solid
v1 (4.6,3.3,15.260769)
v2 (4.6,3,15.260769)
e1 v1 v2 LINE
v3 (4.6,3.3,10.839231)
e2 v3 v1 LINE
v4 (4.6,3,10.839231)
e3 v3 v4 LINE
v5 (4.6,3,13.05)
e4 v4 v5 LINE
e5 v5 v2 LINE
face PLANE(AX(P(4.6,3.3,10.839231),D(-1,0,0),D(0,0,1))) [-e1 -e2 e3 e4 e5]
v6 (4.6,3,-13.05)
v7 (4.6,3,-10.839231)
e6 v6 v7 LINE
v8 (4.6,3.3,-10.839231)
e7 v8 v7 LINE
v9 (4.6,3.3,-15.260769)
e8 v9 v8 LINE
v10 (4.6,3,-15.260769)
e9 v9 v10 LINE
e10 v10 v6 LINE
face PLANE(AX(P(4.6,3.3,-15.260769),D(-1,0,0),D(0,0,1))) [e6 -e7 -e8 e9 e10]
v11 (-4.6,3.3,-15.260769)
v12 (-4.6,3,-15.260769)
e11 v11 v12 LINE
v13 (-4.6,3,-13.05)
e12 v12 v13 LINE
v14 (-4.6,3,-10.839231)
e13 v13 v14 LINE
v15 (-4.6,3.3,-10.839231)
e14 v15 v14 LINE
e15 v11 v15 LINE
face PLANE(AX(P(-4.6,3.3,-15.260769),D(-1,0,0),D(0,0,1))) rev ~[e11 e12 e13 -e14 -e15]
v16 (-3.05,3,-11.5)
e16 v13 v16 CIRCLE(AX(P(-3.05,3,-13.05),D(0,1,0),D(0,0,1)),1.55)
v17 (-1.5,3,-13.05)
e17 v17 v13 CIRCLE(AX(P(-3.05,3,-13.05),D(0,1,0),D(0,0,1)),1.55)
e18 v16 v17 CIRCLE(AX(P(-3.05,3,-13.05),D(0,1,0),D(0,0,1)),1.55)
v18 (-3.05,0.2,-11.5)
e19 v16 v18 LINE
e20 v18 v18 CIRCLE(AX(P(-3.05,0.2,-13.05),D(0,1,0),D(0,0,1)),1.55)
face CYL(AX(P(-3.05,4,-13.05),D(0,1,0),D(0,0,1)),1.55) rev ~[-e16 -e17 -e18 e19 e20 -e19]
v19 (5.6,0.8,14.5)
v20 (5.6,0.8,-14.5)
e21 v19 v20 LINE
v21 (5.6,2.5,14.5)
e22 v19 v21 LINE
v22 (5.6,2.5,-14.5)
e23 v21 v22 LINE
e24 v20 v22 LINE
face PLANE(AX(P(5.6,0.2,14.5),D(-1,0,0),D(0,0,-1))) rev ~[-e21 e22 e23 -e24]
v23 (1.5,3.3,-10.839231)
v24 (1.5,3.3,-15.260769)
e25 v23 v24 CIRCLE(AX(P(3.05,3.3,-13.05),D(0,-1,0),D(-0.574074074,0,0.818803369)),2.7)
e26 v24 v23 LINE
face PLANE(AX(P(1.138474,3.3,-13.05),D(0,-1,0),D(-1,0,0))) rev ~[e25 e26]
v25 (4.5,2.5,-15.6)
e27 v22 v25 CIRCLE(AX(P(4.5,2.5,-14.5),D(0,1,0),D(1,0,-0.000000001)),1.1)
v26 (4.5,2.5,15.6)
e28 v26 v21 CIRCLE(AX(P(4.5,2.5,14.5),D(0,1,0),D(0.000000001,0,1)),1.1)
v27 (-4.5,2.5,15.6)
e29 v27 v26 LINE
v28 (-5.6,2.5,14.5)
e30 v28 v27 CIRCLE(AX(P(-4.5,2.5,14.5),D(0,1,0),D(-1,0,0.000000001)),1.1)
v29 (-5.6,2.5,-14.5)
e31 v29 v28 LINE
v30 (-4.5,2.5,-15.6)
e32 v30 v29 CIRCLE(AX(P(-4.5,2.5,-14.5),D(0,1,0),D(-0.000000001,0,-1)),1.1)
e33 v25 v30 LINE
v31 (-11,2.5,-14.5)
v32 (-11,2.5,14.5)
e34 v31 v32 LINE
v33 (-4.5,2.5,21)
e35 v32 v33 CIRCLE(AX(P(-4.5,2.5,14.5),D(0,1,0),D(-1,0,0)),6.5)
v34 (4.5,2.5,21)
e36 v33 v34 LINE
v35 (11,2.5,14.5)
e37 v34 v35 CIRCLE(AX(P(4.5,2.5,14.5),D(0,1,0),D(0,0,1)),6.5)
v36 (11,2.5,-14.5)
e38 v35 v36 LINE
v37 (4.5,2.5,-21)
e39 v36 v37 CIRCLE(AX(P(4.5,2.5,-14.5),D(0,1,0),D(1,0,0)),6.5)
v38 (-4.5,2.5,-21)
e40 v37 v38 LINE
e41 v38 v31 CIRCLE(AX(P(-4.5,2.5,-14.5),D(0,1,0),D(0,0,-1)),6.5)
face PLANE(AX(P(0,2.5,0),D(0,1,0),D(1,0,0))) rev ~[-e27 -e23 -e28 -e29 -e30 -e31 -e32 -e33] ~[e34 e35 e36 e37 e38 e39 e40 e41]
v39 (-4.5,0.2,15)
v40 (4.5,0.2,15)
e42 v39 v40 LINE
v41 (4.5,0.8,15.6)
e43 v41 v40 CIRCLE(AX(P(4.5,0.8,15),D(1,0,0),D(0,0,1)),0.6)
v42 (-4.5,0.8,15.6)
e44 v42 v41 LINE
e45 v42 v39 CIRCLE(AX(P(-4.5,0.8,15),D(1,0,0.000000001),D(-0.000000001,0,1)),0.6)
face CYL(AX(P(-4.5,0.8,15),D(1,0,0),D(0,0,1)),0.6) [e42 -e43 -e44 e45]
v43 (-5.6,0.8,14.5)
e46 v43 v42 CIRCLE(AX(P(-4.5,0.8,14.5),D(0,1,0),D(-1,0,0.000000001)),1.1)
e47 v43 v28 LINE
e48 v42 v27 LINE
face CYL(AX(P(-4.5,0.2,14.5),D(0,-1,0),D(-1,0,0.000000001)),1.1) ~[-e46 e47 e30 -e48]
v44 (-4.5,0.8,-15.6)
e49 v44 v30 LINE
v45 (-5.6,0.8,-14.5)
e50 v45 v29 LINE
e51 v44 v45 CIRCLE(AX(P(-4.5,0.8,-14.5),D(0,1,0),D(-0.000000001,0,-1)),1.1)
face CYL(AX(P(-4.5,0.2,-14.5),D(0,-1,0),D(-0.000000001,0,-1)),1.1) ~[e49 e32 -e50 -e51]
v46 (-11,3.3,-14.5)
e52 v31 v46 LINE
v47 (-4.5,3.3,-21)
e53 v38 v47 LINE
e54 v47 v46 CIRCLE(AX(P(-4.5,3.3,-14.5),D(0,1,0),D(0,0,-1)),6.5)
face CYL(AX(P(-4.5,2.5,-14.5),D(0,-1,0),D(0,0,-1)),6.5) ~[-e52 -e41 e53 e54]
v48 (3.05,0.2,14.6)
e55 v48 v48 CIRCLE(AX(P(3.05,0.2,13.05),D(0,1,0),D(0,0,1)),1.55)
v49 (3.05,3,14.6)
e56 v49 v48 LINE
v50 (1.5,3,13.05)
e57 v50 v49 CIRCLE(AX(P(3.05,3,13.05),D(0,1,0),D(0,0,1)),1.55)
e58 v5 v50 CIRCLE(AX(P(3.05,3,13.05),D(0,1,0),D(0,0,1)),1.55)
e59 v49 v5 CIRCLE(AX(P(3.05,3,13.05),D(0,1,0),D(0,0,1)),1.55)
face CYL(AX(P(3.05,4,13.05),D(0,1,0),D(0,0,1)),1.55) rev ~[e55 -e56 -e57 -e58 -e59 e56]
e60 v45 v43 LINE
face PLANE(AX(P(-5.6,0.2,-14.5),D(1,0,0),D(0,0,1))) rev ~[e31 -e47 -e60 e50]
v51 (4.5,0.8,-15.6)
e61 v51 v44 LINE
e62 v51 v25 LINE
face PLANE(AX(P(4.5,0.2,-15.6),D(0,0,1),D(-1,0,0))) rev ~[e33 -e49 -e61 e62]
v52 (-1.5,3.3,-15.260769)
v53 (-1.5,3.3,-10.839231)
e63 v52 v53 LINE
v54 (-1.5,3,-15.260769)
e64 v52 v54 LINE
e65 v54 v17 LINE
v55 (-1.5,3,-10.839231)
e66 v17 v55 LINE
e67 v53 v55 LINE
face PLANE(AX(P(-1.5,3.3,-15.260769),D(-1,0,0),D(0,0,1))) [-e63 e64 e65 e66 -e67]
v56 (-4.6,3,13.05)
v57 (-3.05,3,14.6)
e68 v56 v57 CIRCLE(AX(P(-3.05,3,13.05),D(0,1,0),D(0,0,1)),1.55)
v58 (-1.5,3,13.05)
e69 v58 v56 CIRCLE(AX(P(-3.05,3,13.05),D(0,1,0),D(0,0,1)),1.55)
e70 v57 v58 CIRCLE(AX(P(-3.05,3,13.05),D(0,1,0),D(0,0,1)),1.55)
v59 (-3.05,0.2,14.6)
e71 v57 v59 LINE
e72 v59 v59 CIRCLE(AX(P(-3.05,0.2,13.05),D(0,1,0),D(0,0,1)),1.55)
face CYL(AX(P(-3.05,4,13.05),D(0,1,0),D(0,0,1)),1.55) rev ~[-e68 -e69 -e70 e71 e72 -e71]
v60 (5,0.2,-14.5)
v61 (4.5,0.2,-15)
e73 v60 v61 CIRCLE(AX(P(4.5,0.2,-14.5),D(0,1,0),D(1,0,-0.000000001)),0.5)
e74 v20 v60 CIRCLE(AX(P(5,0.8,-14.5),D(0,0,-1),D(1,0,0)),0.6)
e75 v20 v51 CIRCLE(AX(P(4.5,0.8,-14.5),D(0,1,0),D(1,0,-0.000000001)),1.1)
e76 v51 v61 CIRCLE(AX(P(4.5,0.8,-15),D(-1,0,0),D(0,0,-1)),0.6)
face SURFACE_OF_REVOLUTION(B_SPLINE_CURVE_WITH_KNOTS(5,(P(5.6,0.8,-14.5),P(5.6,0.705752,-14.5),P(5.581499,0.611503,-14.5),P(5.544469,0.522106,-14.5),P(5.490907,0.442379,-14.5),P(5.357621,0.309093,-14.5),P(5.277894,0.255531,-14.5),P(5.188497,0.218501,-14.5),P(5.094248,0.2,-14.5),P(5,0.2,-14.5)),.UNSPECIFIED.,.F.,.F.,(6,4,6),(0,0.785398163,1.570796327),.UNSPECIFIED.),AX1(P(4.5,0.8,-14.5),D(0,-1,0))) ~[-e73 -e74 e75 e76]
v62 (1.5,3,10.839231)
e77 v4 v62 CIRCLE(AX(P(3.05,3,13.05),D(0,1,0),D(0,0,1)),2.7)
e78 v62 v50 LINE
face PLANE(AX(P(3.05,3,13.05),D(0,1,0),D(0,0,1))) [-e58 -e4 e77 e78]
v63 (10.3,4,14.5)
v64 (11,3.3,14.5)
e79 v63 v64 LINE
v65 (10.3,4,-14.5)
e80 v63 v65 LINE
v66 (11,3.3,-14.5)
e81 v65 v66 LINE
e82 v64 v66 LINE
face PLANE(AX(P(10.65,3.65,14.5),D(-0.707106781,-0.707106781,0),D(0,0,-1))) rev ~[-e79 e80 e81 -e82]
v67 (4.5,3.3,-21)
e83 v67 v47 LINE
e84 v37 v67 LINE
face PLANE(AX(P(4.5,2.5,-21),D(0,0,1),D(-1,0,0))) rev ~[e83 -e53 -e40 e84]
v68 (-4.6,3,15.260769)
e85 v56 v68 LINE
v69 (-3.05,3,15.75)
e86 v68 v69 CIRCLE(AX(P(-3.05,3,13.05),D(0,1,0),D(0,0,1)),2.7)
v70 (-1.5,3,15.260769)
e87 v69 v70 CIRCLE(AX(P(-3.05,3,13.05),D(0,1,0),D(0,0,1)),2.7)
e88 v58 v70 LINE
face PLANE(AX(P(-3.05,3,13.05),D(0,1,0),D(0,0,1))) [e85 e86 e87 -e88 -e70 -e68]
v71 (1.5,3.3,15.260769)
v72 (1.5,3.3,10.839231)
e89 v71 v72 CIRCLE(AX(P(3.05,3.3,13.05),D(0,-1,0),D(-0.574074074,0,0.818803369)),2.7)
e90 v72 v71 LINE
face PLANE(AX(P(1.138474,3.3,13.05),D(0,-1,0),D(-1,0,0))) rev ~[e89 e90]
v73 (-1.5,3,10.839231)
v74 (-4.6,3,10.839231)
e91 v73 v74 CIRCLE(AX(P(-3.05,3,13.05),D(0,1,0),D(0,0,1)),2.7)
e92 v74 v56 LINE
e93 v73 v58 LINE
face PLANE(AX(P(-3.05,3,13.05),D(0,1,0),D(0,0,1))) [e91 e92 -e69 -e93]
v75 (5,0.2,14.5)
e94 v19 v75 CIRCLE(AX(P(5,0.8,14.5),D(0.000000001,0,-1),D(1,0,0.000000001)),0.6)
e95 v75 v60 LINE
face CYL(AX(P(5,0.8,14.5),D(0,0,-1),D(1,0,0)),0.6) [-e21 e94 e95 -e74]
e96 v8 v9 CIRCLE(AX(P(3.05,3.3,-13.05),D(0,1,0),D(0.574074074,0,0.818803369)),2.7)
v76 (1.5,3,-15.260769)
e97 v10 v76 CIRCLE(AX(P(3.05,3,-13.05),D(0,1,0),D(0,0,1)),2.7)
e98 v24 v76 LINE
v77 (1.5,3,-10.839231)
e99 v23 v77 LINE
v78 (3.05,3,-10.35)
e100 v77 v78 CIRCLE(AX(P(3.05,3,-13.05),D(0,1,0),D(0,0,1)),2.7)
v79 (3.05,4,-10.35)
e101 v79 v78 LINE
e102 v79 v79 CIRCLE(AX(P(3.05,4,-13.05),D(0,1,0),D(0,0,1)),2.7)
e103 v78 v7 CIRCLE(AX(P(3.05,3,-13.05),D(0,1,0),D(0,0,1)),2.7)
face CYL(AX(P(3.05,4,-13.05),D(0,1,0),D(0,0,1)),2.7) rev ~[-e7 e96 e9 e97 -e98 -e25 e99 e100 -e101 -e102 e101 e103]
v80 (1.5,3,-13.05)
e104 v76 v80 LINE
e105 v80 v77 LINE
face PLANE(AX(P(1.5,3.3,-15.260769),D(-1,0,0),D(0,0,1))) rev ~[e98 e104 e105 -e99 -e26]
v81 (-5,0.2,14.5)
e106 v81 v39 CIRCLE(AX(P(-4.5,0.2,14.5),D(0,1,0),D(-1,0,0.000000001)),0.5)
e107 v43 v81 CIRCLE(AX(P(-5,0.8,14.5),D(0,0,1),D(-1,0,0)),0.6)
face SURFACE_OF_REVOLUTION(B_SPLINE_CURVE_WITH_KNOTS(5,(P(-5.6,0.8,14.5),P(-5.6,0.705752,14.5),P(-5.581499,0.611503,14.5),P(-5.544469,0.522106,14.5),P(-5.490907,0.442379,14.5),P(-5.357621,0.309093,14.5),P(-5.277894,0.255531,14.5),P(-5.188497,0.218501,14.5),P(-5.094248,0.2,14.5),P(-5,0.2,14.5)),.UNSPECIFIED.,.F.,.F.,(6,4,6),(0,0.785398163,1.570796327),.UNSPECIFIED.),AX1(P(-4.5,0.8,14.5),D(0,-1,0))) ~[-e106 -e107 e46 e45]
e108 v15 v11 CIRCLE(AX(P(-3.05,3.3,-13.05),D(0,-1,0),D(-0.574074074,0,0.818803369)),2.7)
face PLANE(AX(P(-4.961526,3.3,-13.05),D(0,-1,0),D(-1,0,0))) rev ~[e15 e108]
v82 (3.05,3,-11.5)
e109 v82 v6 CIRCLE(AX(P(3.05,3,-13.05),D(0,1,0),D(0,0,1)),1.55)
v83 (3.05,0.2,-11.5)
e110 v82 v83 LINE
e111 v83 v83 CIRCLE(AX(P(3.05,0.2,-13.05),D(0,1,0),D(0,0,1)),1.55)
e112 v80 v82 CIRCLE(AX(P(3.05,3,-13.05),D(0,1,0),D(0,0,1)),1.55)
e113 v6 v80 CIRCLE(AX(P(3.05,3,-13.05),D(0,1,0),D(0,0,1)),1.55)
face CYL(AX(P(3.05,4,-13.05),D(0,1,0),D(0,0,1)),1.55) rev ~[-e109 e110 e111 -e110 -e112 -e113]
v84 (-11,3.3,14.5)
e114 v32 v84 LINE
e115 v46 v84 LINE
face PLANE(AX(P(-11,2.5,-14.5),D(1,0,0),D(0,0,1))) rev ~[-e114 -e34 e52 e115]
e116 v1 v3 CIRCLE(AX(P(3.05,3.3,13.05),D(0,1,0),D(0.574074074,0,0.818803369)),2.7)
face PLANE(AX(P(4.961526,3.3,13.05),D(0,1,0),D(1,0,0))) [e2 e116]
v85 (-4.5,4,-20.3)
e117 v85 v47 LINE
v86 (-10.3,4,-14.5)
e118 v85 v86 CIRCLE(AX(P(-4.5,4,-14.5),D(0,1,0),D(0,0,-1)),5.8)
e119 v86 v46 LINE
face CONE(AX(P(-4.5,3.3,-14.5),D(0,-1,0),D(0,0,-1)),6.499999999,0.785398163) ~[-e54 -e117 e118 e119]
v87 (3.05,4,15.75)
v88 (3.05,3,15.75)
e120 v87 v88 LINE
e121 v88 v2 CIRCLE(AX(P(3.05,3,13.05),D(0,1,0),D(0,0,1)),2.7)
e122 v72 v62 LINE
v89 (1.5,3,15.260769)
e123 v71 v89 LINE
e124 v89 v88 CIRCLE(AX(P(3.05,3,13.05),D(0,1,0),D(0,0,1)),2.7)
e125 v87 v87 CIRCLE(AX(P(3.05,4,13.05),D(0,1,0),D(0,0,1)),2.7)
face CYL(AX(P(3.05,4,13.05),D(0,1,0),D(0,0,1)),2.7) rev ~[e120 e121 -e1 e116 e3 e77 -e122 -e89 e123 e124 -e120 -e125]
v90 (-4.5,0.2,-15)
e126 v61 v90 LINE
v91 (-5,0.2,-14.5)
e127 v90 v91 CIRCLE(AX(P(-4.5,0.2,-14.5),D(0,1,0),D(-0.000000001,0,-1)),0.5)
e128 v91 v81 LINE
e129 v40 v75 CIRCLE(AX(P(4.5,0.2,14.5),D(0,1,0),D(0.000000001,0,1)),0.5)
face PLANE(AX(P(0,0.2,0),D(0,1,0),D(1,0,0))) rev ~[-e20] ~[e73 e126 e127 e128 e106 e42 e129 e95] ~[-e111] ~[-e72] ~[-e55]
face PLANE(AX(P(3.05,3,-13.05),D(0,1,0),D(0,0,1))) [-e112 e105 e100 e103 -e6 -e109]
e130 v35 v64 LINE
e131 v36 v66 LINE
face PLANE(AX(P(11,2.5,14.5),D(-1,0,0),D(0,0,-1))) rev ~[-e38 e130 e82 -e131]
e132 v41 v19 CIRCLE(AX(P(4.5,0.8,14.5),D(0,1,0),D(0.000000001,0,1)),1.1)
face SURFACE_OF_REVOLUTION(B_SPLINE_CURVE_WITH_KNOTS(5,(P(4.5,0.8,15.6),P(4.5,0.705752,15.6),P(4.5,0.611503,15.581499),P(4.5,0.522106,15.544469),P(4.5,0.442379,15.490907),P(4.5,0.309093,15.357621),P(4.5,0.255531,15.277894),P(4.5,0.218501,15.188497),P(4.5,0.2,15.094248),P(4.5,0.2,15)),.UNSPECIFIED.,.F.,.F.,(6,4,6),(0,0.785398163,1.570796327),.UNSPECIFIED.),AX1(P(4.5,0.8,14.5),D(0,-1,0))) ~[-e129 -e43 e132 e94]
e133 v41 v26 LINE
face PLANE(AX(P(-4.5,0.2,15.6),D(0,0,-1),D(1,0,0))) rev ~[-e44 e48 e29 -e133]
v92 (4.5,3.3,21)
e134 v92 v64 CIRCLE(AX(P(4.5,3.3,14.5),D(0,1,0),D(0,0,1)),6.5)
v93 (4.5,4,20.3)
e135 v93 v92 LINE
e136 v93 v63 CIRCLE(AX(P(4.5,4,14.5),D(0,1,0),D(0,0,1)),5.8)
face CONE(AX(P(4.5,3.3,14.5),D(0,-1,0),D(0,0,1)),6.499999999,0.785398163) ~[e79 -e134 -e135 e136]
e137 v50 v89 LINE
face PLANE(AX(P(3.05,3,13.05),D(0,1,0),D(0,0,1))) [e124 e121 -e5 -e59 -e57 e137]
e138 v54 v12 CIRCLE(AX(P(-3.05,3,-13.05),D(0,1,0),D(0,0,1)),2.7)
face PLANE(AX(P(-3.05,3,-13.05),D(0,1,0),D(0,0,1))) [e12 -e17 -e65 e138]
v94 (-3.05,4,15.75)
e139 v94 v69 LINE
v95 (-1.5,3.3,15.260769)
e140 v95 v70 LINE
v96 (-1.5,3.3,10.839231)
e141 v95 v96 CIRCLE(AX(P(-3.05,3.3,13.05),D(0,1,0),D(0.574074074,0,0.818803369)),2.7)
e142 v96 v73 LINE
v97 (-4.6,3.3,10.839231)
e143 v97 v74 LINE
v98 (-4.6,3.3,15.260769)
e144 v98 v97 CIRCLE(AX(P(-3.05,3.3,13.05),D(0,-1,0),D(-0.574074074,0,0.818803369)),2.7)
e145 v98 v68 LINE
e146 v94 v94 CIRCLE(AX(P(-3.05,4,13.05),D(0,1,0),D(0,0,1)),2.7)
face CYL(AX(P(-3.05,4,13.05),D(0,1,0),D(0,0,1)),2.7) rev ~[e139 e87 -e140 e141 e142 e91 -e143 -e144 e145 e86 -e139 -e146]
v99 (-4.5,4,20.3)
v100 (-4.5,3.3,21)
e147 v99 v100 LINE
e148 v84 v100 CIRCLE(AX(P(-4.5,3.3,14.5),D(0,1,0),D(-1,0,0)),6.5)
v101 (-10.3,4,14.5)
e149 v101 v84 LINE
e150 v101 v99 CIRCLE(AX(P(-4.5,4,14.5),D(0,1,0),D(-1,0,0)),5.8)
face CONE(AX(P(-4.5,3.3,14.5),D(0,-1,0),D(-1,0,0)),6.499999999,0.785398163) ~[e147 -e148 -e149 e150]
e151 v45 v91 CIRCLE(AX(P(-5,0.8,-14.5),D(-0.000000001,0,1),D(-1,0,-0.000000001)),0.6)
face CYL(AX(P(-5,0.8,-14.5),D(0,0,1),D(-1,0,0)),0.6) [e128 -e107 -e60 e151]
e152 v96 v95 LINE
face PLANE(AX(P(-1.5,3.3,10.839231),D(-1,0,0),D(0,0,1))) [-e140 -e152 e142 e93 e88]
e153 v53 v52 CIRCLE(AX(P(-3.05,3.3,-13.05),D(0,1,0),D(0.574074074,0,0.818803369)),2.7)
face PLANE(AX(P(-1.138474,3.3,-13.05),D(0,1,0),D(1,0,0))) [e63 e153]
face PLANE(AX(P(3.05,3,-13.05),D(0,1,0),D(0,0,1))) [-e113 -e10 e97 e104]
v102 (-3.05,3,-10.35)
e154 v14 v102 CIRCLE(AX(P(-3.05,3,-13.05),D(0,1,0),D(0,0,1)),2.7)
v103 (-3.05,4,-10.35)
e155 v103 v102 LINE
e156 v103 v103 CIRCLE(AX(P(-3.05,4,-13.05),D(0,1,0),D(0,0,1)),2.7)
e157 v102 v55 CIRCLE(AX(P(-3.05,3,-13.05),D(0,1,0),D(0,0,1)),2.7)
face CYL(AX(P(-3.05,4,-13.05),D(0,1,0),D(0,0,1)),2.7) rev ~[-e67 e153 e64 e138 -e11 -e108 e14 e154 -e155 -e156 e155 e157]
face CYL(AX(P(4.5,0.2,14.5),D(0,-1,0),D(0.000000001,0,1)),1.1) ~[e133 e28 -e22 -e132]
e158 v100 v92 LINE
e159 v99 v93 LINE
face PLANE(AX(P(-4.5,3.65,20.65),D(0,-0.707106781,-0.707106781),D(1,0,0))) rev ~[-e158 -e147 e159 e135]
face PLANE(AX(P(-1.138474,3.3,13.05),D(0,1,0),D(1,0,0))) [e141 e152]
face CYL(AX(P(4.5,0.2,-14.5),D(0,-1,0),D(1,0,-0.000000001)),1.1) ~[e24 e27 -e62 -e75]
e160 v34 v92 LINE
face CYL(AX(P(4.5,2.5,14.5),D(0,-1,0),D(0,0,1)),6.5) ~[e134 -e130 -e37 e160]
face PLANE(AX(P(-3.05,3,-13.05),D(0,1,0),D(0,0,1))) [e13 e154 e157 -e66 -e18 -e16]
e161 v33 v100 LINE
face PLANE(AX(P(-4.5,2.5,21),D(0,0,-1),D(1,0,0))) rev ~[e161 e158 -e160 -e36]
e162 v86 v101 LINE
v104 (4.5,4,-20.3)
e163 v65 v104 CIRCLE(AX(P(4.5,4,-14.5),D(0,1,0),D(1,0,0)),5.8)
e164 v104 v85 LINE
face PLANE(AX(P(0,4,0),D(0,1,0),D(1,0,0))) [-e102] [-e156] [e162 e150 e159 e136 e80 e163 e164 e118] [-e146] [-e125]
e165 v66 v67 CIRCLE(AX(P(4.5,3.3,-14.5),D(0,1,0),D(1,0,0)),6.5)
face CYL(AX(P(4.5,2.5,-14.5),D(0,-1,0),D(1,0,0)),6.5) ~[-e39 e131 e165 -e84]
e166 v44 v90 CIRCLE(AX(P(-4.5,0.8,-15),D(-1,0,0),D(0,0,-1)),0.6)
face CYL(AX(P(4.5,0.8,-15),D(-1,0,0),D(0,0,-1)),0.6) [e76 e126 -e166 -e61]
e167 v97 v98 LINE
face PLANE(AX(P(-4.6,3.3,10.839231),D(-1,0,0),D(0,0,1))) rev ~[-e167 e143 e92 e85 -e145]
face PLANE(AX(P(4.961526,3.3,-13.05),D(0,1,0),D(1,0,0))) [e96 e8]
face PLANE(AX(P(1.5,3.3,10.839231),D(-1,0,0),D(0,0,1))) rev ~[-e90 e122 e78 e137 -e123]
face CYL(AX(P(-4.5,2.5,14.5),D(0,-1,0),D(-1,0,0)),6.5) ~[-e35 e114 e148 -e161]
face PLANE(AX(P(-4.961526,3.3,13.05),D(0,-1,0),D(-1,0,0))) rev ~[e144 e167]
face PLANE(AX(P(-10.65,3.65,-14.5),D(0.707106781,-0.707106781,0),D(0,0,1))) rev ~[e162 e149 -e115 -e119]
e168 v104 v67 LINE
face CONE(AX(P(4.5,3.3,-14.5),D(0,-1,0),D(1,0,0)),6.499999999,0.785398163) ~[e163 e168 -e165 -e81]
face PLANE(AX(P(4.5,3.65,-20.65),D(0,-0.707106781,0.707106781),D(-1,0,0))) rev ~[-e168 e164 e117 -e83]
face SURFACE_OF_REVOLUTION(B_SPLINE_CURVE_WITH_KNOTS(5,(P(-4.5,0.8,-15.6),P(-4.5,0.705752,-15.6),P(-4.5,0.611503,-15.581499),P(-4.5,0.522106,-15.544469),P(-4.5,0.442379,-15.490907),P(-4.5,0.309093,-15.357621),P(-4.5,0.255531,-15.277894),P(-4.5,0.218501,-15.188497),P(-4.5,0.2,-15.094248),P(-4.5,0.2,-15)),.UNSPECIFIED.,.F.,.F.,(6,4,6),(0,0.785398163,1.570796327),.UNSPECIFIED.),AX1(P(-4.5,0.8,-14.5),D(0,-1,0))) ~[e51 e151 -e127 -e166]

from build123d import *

# Parameters (mm, degrees)
BOSS_EXTRUDE1_START = 0.2
BOSS_EXTRUDE1_DEPTH = 2.3
BOSS_EXTRUDE2_DEPTH = 1.5
SKETCH3_R           = 1.55
CUT_EXTRUDE1_DEPTH  = 25.009164917
CHAMFER1_SIZE       = 0.7
FILLET1_R           = 0.6
SKETCH4_R           = 2.7
CUT_EXTRUDE2_DEPTH  = 1
BOSS_EXTRUDE3_START = 0.3
BOSS_EXTRUDE3_DEPTH = 0.3


with BuildPart() as part:
    # Sketch1 → Boss-Extrude1 (new body)
    with BuildSketch(Plane(origin=(0, 0, 0), x_dir=(1, 0, 0), z_dir=(0, 1, 0)).offset(BOSS_EXTRUDE1_START)):
        with BuildLine():
            Line((5.6, -14.5), (5.6, 14.5))
            ThreePointArc((5.6, 14.5), (5.277817459, 15.277817459), (4.5, 15.6))
            Line((4.5, 15.6), (-4.5, 15.6))
            ThreePointArc((-4.5, 15.6), (-5.277817459, 15.277817459), (-5.6, 14.5))
            Line((-5.6, 14.5), (-5.6, -14.5))
            ThreePointArc((-5.6, -14.5), (-5.277817459, -15.277817459), (-4.5, -15.6))
            Line((-4.5, -15.6), (4.5, -15.6))
            ThreePointArc((4.5, -15.6), (5.277817459, -15.277817459), (5.6, -14.5))
        make_face()
    extrude(amount=BOSS_EXTRUDE1_DEPTH)

    # Sketch2 → Boss-Extrude2 (add)
    with BuildSketch(Plane(origin=(0, 2.5, 0), x_dir=(1, 0, 0), z_dir=(0, 1, 0))):
        with BuildLine():
            Line((-4.5, -21), (4.5, -21))
            ThreePointArc((4.5, -21), (9.096194078, -19.096194078), (11, -14.5))
            Line((11, -14.5), (11, 14.5))
            ThreePointArc((11, 14.5), (9.096194078, 19.096194078), (4.5, 21))
            Line((4.5, 21), (-4.5, 21))
            ThreePointArc((-4.5, 21), (-9.096194078, 19.096194078), (-11, 14.5))
            Line((-11, 14.5), (-11, -14.5))
            ThreePointArc((-11, -14.5), (-9.096194078, -19.096194078), (-4.5, -21))
        make_face()
    extrude(amount=BOSS_EXTRUDE2_DEPTH)

    # Sketch3 → Cut-Extrude1 (cut, through all)
    with BuildSketch(Plane(origin=(0, 4, 0), x_dir=(1, 0, 0), z_dir=(0, 1, 0))):
        with Locations(Location((3.05, -13.05, 0), (0, 0, 270))):
            Circle(SKETCH3_R)
        with Locations(Location((3.05, 13.05, 0), (0, 0, 270))):
            Circle(SKETCH3_R)
        with Locations(Location((-3.05, 13.05, 0), (0, 0, 270))):
            Circle(SKETCH3_R)
        with Locations(Location((-3.05, -13.05, 0), (0, 0, 270))):
            Circle(SKETCH3_R)
    extrude(amount=-CUT_EXTRUDE1_DEPTH, mode=Mode.SUBTRACT)

    # Chamfer1
    chamfer1_edges = [part.edges().sort_by_distance(p)[0] for p in [
        (-11, 4, 0),
        (-9.096194078, 4, 19.096194078),
        (0, 4, 21),
        (9.096194078, 4, 19.096194078),
        (11, 4, 0),
        (9.096194078, 4, -19.096194078),
        (0, 4, -21),
        (-9.096194078, 4, -19.096194078),
    ]]
    chamfer(chamfer1_edges, length=CHAMFER1_SIZE)

    # Fillet1
    fillet1_edges = [part.edges().sort_by_distance(p)[0] for p in [
        (0, 0.2, -15.6),
        (5.277817459, 0.2, -15.277817459),
        (5.6, 0.2, 0),
        (5.277817459, 0.2, 15.277817459),
        (0, 0.2, 15.6),
        (-5.277817459, 0.2, 15.277817459),
        (-5.6, 0.2, 0),
        (-5.277817459, 0.2, -15.277817459),
    ]]
    fillet(fillet1_edges, radius=FILLET1_R)

    # Sketch4 → Cut-Extrude2 (cut)
    with BuildSketch(Plane(origin=(0, 4, 0), x_dir=(1, 0, 0), z_dir=(0, 1, 0))):
        with Locations(Location((-3.05, 13.05, 0), (0, 0, 270))):
            Circle(SKETCH4_R)
        with Locations(Location((3.05, 13.05, 0), (0, 0, 270))):
            Circle(SKETCH4_R)
        with Locations(Location((-3.05, -13.05, 0), (0, 0, 270))):
            Circle(SKETCH4_R)
        with Locations(Location((3.05, -13.05, 0), (0, 0, 270))):
            Circle(SKETCH4_R)
    extrude(amount=-CUT_EXTRUDE2_DEPTH, mode=Mode.SUBTRACT)

    # Sketch5 → Boss-Extrude3 (add)
    with BuildSketch(Plane(origin=(0, 3, 0), x_dir=(1, 0, 0), z_dir=(0, 1, 0)).offset(BOSS_EXTRUDE3_START)):
        with BuildLine():
            Line((4.6, 15.260769097), (4.6, 10.839230903))
            ThreePointArc((4.6, 10.839230903), (5.75, 13.05), (4.6, 15.260769097))
        make_face()
        with BuildLine():
            Line((1.5, 15.260769097), (1.5, 10.839230903))
            ThreePointArc((1.5, 10.839230903), (0.35, 13.05), (1.5, 15.260769097))
        make_face()
        with BuildLine():
            Line((-4.6, 15.260769097), (-4.6, 10.839230903))
            ThreePointArc((-4.6, 10.839230903), (-5.75, 13.05), (-4.6, 15.260769097))
        make_face()
        with BuildLine():
            Line((-1.5, 15.260769097), (-1.5, 10.839230903))
            ThreePointArc((-1.5, 10.839230903), (-0.35, 13.05), (-1.5, 15.260769097))
        make_face()
        with BuildLine():
            Line((-4.6, -10.839230903), (-4.6, -15.260769097))
            ThreePointArc((-4.6, -15.260769097), (-5.75, -13.05), (-4.6, -10.839230903))
        make_face()
        with BuildLine():
            Line((-1.5, -10.839230903), (-1.5, -15.260769097))
            ThreePointArc((-1.5, -15.260769097), (-0.35, -13.05), (-1.5, -10.839230903))
        make_face()
        with BuildLine():
            Line((1.5, -10.839230903), (1.5, -15.260769097))
            ThreePointArc((1.5, -15.260769097), (0.35, -13.05), (1.5, -10.839230903))
        make_face()
        with BuildLine():
            Line((4.6, -10.839230903), (4.6, -15.260769097))
            ThreePointArc((4.6, -15.260769097), (5.75, -13.05), (4.6, -10.839230903))
        make_face()
    extrude(amount=-BOSS_EXTRUDE3_DEPTH)


solid = part.part
